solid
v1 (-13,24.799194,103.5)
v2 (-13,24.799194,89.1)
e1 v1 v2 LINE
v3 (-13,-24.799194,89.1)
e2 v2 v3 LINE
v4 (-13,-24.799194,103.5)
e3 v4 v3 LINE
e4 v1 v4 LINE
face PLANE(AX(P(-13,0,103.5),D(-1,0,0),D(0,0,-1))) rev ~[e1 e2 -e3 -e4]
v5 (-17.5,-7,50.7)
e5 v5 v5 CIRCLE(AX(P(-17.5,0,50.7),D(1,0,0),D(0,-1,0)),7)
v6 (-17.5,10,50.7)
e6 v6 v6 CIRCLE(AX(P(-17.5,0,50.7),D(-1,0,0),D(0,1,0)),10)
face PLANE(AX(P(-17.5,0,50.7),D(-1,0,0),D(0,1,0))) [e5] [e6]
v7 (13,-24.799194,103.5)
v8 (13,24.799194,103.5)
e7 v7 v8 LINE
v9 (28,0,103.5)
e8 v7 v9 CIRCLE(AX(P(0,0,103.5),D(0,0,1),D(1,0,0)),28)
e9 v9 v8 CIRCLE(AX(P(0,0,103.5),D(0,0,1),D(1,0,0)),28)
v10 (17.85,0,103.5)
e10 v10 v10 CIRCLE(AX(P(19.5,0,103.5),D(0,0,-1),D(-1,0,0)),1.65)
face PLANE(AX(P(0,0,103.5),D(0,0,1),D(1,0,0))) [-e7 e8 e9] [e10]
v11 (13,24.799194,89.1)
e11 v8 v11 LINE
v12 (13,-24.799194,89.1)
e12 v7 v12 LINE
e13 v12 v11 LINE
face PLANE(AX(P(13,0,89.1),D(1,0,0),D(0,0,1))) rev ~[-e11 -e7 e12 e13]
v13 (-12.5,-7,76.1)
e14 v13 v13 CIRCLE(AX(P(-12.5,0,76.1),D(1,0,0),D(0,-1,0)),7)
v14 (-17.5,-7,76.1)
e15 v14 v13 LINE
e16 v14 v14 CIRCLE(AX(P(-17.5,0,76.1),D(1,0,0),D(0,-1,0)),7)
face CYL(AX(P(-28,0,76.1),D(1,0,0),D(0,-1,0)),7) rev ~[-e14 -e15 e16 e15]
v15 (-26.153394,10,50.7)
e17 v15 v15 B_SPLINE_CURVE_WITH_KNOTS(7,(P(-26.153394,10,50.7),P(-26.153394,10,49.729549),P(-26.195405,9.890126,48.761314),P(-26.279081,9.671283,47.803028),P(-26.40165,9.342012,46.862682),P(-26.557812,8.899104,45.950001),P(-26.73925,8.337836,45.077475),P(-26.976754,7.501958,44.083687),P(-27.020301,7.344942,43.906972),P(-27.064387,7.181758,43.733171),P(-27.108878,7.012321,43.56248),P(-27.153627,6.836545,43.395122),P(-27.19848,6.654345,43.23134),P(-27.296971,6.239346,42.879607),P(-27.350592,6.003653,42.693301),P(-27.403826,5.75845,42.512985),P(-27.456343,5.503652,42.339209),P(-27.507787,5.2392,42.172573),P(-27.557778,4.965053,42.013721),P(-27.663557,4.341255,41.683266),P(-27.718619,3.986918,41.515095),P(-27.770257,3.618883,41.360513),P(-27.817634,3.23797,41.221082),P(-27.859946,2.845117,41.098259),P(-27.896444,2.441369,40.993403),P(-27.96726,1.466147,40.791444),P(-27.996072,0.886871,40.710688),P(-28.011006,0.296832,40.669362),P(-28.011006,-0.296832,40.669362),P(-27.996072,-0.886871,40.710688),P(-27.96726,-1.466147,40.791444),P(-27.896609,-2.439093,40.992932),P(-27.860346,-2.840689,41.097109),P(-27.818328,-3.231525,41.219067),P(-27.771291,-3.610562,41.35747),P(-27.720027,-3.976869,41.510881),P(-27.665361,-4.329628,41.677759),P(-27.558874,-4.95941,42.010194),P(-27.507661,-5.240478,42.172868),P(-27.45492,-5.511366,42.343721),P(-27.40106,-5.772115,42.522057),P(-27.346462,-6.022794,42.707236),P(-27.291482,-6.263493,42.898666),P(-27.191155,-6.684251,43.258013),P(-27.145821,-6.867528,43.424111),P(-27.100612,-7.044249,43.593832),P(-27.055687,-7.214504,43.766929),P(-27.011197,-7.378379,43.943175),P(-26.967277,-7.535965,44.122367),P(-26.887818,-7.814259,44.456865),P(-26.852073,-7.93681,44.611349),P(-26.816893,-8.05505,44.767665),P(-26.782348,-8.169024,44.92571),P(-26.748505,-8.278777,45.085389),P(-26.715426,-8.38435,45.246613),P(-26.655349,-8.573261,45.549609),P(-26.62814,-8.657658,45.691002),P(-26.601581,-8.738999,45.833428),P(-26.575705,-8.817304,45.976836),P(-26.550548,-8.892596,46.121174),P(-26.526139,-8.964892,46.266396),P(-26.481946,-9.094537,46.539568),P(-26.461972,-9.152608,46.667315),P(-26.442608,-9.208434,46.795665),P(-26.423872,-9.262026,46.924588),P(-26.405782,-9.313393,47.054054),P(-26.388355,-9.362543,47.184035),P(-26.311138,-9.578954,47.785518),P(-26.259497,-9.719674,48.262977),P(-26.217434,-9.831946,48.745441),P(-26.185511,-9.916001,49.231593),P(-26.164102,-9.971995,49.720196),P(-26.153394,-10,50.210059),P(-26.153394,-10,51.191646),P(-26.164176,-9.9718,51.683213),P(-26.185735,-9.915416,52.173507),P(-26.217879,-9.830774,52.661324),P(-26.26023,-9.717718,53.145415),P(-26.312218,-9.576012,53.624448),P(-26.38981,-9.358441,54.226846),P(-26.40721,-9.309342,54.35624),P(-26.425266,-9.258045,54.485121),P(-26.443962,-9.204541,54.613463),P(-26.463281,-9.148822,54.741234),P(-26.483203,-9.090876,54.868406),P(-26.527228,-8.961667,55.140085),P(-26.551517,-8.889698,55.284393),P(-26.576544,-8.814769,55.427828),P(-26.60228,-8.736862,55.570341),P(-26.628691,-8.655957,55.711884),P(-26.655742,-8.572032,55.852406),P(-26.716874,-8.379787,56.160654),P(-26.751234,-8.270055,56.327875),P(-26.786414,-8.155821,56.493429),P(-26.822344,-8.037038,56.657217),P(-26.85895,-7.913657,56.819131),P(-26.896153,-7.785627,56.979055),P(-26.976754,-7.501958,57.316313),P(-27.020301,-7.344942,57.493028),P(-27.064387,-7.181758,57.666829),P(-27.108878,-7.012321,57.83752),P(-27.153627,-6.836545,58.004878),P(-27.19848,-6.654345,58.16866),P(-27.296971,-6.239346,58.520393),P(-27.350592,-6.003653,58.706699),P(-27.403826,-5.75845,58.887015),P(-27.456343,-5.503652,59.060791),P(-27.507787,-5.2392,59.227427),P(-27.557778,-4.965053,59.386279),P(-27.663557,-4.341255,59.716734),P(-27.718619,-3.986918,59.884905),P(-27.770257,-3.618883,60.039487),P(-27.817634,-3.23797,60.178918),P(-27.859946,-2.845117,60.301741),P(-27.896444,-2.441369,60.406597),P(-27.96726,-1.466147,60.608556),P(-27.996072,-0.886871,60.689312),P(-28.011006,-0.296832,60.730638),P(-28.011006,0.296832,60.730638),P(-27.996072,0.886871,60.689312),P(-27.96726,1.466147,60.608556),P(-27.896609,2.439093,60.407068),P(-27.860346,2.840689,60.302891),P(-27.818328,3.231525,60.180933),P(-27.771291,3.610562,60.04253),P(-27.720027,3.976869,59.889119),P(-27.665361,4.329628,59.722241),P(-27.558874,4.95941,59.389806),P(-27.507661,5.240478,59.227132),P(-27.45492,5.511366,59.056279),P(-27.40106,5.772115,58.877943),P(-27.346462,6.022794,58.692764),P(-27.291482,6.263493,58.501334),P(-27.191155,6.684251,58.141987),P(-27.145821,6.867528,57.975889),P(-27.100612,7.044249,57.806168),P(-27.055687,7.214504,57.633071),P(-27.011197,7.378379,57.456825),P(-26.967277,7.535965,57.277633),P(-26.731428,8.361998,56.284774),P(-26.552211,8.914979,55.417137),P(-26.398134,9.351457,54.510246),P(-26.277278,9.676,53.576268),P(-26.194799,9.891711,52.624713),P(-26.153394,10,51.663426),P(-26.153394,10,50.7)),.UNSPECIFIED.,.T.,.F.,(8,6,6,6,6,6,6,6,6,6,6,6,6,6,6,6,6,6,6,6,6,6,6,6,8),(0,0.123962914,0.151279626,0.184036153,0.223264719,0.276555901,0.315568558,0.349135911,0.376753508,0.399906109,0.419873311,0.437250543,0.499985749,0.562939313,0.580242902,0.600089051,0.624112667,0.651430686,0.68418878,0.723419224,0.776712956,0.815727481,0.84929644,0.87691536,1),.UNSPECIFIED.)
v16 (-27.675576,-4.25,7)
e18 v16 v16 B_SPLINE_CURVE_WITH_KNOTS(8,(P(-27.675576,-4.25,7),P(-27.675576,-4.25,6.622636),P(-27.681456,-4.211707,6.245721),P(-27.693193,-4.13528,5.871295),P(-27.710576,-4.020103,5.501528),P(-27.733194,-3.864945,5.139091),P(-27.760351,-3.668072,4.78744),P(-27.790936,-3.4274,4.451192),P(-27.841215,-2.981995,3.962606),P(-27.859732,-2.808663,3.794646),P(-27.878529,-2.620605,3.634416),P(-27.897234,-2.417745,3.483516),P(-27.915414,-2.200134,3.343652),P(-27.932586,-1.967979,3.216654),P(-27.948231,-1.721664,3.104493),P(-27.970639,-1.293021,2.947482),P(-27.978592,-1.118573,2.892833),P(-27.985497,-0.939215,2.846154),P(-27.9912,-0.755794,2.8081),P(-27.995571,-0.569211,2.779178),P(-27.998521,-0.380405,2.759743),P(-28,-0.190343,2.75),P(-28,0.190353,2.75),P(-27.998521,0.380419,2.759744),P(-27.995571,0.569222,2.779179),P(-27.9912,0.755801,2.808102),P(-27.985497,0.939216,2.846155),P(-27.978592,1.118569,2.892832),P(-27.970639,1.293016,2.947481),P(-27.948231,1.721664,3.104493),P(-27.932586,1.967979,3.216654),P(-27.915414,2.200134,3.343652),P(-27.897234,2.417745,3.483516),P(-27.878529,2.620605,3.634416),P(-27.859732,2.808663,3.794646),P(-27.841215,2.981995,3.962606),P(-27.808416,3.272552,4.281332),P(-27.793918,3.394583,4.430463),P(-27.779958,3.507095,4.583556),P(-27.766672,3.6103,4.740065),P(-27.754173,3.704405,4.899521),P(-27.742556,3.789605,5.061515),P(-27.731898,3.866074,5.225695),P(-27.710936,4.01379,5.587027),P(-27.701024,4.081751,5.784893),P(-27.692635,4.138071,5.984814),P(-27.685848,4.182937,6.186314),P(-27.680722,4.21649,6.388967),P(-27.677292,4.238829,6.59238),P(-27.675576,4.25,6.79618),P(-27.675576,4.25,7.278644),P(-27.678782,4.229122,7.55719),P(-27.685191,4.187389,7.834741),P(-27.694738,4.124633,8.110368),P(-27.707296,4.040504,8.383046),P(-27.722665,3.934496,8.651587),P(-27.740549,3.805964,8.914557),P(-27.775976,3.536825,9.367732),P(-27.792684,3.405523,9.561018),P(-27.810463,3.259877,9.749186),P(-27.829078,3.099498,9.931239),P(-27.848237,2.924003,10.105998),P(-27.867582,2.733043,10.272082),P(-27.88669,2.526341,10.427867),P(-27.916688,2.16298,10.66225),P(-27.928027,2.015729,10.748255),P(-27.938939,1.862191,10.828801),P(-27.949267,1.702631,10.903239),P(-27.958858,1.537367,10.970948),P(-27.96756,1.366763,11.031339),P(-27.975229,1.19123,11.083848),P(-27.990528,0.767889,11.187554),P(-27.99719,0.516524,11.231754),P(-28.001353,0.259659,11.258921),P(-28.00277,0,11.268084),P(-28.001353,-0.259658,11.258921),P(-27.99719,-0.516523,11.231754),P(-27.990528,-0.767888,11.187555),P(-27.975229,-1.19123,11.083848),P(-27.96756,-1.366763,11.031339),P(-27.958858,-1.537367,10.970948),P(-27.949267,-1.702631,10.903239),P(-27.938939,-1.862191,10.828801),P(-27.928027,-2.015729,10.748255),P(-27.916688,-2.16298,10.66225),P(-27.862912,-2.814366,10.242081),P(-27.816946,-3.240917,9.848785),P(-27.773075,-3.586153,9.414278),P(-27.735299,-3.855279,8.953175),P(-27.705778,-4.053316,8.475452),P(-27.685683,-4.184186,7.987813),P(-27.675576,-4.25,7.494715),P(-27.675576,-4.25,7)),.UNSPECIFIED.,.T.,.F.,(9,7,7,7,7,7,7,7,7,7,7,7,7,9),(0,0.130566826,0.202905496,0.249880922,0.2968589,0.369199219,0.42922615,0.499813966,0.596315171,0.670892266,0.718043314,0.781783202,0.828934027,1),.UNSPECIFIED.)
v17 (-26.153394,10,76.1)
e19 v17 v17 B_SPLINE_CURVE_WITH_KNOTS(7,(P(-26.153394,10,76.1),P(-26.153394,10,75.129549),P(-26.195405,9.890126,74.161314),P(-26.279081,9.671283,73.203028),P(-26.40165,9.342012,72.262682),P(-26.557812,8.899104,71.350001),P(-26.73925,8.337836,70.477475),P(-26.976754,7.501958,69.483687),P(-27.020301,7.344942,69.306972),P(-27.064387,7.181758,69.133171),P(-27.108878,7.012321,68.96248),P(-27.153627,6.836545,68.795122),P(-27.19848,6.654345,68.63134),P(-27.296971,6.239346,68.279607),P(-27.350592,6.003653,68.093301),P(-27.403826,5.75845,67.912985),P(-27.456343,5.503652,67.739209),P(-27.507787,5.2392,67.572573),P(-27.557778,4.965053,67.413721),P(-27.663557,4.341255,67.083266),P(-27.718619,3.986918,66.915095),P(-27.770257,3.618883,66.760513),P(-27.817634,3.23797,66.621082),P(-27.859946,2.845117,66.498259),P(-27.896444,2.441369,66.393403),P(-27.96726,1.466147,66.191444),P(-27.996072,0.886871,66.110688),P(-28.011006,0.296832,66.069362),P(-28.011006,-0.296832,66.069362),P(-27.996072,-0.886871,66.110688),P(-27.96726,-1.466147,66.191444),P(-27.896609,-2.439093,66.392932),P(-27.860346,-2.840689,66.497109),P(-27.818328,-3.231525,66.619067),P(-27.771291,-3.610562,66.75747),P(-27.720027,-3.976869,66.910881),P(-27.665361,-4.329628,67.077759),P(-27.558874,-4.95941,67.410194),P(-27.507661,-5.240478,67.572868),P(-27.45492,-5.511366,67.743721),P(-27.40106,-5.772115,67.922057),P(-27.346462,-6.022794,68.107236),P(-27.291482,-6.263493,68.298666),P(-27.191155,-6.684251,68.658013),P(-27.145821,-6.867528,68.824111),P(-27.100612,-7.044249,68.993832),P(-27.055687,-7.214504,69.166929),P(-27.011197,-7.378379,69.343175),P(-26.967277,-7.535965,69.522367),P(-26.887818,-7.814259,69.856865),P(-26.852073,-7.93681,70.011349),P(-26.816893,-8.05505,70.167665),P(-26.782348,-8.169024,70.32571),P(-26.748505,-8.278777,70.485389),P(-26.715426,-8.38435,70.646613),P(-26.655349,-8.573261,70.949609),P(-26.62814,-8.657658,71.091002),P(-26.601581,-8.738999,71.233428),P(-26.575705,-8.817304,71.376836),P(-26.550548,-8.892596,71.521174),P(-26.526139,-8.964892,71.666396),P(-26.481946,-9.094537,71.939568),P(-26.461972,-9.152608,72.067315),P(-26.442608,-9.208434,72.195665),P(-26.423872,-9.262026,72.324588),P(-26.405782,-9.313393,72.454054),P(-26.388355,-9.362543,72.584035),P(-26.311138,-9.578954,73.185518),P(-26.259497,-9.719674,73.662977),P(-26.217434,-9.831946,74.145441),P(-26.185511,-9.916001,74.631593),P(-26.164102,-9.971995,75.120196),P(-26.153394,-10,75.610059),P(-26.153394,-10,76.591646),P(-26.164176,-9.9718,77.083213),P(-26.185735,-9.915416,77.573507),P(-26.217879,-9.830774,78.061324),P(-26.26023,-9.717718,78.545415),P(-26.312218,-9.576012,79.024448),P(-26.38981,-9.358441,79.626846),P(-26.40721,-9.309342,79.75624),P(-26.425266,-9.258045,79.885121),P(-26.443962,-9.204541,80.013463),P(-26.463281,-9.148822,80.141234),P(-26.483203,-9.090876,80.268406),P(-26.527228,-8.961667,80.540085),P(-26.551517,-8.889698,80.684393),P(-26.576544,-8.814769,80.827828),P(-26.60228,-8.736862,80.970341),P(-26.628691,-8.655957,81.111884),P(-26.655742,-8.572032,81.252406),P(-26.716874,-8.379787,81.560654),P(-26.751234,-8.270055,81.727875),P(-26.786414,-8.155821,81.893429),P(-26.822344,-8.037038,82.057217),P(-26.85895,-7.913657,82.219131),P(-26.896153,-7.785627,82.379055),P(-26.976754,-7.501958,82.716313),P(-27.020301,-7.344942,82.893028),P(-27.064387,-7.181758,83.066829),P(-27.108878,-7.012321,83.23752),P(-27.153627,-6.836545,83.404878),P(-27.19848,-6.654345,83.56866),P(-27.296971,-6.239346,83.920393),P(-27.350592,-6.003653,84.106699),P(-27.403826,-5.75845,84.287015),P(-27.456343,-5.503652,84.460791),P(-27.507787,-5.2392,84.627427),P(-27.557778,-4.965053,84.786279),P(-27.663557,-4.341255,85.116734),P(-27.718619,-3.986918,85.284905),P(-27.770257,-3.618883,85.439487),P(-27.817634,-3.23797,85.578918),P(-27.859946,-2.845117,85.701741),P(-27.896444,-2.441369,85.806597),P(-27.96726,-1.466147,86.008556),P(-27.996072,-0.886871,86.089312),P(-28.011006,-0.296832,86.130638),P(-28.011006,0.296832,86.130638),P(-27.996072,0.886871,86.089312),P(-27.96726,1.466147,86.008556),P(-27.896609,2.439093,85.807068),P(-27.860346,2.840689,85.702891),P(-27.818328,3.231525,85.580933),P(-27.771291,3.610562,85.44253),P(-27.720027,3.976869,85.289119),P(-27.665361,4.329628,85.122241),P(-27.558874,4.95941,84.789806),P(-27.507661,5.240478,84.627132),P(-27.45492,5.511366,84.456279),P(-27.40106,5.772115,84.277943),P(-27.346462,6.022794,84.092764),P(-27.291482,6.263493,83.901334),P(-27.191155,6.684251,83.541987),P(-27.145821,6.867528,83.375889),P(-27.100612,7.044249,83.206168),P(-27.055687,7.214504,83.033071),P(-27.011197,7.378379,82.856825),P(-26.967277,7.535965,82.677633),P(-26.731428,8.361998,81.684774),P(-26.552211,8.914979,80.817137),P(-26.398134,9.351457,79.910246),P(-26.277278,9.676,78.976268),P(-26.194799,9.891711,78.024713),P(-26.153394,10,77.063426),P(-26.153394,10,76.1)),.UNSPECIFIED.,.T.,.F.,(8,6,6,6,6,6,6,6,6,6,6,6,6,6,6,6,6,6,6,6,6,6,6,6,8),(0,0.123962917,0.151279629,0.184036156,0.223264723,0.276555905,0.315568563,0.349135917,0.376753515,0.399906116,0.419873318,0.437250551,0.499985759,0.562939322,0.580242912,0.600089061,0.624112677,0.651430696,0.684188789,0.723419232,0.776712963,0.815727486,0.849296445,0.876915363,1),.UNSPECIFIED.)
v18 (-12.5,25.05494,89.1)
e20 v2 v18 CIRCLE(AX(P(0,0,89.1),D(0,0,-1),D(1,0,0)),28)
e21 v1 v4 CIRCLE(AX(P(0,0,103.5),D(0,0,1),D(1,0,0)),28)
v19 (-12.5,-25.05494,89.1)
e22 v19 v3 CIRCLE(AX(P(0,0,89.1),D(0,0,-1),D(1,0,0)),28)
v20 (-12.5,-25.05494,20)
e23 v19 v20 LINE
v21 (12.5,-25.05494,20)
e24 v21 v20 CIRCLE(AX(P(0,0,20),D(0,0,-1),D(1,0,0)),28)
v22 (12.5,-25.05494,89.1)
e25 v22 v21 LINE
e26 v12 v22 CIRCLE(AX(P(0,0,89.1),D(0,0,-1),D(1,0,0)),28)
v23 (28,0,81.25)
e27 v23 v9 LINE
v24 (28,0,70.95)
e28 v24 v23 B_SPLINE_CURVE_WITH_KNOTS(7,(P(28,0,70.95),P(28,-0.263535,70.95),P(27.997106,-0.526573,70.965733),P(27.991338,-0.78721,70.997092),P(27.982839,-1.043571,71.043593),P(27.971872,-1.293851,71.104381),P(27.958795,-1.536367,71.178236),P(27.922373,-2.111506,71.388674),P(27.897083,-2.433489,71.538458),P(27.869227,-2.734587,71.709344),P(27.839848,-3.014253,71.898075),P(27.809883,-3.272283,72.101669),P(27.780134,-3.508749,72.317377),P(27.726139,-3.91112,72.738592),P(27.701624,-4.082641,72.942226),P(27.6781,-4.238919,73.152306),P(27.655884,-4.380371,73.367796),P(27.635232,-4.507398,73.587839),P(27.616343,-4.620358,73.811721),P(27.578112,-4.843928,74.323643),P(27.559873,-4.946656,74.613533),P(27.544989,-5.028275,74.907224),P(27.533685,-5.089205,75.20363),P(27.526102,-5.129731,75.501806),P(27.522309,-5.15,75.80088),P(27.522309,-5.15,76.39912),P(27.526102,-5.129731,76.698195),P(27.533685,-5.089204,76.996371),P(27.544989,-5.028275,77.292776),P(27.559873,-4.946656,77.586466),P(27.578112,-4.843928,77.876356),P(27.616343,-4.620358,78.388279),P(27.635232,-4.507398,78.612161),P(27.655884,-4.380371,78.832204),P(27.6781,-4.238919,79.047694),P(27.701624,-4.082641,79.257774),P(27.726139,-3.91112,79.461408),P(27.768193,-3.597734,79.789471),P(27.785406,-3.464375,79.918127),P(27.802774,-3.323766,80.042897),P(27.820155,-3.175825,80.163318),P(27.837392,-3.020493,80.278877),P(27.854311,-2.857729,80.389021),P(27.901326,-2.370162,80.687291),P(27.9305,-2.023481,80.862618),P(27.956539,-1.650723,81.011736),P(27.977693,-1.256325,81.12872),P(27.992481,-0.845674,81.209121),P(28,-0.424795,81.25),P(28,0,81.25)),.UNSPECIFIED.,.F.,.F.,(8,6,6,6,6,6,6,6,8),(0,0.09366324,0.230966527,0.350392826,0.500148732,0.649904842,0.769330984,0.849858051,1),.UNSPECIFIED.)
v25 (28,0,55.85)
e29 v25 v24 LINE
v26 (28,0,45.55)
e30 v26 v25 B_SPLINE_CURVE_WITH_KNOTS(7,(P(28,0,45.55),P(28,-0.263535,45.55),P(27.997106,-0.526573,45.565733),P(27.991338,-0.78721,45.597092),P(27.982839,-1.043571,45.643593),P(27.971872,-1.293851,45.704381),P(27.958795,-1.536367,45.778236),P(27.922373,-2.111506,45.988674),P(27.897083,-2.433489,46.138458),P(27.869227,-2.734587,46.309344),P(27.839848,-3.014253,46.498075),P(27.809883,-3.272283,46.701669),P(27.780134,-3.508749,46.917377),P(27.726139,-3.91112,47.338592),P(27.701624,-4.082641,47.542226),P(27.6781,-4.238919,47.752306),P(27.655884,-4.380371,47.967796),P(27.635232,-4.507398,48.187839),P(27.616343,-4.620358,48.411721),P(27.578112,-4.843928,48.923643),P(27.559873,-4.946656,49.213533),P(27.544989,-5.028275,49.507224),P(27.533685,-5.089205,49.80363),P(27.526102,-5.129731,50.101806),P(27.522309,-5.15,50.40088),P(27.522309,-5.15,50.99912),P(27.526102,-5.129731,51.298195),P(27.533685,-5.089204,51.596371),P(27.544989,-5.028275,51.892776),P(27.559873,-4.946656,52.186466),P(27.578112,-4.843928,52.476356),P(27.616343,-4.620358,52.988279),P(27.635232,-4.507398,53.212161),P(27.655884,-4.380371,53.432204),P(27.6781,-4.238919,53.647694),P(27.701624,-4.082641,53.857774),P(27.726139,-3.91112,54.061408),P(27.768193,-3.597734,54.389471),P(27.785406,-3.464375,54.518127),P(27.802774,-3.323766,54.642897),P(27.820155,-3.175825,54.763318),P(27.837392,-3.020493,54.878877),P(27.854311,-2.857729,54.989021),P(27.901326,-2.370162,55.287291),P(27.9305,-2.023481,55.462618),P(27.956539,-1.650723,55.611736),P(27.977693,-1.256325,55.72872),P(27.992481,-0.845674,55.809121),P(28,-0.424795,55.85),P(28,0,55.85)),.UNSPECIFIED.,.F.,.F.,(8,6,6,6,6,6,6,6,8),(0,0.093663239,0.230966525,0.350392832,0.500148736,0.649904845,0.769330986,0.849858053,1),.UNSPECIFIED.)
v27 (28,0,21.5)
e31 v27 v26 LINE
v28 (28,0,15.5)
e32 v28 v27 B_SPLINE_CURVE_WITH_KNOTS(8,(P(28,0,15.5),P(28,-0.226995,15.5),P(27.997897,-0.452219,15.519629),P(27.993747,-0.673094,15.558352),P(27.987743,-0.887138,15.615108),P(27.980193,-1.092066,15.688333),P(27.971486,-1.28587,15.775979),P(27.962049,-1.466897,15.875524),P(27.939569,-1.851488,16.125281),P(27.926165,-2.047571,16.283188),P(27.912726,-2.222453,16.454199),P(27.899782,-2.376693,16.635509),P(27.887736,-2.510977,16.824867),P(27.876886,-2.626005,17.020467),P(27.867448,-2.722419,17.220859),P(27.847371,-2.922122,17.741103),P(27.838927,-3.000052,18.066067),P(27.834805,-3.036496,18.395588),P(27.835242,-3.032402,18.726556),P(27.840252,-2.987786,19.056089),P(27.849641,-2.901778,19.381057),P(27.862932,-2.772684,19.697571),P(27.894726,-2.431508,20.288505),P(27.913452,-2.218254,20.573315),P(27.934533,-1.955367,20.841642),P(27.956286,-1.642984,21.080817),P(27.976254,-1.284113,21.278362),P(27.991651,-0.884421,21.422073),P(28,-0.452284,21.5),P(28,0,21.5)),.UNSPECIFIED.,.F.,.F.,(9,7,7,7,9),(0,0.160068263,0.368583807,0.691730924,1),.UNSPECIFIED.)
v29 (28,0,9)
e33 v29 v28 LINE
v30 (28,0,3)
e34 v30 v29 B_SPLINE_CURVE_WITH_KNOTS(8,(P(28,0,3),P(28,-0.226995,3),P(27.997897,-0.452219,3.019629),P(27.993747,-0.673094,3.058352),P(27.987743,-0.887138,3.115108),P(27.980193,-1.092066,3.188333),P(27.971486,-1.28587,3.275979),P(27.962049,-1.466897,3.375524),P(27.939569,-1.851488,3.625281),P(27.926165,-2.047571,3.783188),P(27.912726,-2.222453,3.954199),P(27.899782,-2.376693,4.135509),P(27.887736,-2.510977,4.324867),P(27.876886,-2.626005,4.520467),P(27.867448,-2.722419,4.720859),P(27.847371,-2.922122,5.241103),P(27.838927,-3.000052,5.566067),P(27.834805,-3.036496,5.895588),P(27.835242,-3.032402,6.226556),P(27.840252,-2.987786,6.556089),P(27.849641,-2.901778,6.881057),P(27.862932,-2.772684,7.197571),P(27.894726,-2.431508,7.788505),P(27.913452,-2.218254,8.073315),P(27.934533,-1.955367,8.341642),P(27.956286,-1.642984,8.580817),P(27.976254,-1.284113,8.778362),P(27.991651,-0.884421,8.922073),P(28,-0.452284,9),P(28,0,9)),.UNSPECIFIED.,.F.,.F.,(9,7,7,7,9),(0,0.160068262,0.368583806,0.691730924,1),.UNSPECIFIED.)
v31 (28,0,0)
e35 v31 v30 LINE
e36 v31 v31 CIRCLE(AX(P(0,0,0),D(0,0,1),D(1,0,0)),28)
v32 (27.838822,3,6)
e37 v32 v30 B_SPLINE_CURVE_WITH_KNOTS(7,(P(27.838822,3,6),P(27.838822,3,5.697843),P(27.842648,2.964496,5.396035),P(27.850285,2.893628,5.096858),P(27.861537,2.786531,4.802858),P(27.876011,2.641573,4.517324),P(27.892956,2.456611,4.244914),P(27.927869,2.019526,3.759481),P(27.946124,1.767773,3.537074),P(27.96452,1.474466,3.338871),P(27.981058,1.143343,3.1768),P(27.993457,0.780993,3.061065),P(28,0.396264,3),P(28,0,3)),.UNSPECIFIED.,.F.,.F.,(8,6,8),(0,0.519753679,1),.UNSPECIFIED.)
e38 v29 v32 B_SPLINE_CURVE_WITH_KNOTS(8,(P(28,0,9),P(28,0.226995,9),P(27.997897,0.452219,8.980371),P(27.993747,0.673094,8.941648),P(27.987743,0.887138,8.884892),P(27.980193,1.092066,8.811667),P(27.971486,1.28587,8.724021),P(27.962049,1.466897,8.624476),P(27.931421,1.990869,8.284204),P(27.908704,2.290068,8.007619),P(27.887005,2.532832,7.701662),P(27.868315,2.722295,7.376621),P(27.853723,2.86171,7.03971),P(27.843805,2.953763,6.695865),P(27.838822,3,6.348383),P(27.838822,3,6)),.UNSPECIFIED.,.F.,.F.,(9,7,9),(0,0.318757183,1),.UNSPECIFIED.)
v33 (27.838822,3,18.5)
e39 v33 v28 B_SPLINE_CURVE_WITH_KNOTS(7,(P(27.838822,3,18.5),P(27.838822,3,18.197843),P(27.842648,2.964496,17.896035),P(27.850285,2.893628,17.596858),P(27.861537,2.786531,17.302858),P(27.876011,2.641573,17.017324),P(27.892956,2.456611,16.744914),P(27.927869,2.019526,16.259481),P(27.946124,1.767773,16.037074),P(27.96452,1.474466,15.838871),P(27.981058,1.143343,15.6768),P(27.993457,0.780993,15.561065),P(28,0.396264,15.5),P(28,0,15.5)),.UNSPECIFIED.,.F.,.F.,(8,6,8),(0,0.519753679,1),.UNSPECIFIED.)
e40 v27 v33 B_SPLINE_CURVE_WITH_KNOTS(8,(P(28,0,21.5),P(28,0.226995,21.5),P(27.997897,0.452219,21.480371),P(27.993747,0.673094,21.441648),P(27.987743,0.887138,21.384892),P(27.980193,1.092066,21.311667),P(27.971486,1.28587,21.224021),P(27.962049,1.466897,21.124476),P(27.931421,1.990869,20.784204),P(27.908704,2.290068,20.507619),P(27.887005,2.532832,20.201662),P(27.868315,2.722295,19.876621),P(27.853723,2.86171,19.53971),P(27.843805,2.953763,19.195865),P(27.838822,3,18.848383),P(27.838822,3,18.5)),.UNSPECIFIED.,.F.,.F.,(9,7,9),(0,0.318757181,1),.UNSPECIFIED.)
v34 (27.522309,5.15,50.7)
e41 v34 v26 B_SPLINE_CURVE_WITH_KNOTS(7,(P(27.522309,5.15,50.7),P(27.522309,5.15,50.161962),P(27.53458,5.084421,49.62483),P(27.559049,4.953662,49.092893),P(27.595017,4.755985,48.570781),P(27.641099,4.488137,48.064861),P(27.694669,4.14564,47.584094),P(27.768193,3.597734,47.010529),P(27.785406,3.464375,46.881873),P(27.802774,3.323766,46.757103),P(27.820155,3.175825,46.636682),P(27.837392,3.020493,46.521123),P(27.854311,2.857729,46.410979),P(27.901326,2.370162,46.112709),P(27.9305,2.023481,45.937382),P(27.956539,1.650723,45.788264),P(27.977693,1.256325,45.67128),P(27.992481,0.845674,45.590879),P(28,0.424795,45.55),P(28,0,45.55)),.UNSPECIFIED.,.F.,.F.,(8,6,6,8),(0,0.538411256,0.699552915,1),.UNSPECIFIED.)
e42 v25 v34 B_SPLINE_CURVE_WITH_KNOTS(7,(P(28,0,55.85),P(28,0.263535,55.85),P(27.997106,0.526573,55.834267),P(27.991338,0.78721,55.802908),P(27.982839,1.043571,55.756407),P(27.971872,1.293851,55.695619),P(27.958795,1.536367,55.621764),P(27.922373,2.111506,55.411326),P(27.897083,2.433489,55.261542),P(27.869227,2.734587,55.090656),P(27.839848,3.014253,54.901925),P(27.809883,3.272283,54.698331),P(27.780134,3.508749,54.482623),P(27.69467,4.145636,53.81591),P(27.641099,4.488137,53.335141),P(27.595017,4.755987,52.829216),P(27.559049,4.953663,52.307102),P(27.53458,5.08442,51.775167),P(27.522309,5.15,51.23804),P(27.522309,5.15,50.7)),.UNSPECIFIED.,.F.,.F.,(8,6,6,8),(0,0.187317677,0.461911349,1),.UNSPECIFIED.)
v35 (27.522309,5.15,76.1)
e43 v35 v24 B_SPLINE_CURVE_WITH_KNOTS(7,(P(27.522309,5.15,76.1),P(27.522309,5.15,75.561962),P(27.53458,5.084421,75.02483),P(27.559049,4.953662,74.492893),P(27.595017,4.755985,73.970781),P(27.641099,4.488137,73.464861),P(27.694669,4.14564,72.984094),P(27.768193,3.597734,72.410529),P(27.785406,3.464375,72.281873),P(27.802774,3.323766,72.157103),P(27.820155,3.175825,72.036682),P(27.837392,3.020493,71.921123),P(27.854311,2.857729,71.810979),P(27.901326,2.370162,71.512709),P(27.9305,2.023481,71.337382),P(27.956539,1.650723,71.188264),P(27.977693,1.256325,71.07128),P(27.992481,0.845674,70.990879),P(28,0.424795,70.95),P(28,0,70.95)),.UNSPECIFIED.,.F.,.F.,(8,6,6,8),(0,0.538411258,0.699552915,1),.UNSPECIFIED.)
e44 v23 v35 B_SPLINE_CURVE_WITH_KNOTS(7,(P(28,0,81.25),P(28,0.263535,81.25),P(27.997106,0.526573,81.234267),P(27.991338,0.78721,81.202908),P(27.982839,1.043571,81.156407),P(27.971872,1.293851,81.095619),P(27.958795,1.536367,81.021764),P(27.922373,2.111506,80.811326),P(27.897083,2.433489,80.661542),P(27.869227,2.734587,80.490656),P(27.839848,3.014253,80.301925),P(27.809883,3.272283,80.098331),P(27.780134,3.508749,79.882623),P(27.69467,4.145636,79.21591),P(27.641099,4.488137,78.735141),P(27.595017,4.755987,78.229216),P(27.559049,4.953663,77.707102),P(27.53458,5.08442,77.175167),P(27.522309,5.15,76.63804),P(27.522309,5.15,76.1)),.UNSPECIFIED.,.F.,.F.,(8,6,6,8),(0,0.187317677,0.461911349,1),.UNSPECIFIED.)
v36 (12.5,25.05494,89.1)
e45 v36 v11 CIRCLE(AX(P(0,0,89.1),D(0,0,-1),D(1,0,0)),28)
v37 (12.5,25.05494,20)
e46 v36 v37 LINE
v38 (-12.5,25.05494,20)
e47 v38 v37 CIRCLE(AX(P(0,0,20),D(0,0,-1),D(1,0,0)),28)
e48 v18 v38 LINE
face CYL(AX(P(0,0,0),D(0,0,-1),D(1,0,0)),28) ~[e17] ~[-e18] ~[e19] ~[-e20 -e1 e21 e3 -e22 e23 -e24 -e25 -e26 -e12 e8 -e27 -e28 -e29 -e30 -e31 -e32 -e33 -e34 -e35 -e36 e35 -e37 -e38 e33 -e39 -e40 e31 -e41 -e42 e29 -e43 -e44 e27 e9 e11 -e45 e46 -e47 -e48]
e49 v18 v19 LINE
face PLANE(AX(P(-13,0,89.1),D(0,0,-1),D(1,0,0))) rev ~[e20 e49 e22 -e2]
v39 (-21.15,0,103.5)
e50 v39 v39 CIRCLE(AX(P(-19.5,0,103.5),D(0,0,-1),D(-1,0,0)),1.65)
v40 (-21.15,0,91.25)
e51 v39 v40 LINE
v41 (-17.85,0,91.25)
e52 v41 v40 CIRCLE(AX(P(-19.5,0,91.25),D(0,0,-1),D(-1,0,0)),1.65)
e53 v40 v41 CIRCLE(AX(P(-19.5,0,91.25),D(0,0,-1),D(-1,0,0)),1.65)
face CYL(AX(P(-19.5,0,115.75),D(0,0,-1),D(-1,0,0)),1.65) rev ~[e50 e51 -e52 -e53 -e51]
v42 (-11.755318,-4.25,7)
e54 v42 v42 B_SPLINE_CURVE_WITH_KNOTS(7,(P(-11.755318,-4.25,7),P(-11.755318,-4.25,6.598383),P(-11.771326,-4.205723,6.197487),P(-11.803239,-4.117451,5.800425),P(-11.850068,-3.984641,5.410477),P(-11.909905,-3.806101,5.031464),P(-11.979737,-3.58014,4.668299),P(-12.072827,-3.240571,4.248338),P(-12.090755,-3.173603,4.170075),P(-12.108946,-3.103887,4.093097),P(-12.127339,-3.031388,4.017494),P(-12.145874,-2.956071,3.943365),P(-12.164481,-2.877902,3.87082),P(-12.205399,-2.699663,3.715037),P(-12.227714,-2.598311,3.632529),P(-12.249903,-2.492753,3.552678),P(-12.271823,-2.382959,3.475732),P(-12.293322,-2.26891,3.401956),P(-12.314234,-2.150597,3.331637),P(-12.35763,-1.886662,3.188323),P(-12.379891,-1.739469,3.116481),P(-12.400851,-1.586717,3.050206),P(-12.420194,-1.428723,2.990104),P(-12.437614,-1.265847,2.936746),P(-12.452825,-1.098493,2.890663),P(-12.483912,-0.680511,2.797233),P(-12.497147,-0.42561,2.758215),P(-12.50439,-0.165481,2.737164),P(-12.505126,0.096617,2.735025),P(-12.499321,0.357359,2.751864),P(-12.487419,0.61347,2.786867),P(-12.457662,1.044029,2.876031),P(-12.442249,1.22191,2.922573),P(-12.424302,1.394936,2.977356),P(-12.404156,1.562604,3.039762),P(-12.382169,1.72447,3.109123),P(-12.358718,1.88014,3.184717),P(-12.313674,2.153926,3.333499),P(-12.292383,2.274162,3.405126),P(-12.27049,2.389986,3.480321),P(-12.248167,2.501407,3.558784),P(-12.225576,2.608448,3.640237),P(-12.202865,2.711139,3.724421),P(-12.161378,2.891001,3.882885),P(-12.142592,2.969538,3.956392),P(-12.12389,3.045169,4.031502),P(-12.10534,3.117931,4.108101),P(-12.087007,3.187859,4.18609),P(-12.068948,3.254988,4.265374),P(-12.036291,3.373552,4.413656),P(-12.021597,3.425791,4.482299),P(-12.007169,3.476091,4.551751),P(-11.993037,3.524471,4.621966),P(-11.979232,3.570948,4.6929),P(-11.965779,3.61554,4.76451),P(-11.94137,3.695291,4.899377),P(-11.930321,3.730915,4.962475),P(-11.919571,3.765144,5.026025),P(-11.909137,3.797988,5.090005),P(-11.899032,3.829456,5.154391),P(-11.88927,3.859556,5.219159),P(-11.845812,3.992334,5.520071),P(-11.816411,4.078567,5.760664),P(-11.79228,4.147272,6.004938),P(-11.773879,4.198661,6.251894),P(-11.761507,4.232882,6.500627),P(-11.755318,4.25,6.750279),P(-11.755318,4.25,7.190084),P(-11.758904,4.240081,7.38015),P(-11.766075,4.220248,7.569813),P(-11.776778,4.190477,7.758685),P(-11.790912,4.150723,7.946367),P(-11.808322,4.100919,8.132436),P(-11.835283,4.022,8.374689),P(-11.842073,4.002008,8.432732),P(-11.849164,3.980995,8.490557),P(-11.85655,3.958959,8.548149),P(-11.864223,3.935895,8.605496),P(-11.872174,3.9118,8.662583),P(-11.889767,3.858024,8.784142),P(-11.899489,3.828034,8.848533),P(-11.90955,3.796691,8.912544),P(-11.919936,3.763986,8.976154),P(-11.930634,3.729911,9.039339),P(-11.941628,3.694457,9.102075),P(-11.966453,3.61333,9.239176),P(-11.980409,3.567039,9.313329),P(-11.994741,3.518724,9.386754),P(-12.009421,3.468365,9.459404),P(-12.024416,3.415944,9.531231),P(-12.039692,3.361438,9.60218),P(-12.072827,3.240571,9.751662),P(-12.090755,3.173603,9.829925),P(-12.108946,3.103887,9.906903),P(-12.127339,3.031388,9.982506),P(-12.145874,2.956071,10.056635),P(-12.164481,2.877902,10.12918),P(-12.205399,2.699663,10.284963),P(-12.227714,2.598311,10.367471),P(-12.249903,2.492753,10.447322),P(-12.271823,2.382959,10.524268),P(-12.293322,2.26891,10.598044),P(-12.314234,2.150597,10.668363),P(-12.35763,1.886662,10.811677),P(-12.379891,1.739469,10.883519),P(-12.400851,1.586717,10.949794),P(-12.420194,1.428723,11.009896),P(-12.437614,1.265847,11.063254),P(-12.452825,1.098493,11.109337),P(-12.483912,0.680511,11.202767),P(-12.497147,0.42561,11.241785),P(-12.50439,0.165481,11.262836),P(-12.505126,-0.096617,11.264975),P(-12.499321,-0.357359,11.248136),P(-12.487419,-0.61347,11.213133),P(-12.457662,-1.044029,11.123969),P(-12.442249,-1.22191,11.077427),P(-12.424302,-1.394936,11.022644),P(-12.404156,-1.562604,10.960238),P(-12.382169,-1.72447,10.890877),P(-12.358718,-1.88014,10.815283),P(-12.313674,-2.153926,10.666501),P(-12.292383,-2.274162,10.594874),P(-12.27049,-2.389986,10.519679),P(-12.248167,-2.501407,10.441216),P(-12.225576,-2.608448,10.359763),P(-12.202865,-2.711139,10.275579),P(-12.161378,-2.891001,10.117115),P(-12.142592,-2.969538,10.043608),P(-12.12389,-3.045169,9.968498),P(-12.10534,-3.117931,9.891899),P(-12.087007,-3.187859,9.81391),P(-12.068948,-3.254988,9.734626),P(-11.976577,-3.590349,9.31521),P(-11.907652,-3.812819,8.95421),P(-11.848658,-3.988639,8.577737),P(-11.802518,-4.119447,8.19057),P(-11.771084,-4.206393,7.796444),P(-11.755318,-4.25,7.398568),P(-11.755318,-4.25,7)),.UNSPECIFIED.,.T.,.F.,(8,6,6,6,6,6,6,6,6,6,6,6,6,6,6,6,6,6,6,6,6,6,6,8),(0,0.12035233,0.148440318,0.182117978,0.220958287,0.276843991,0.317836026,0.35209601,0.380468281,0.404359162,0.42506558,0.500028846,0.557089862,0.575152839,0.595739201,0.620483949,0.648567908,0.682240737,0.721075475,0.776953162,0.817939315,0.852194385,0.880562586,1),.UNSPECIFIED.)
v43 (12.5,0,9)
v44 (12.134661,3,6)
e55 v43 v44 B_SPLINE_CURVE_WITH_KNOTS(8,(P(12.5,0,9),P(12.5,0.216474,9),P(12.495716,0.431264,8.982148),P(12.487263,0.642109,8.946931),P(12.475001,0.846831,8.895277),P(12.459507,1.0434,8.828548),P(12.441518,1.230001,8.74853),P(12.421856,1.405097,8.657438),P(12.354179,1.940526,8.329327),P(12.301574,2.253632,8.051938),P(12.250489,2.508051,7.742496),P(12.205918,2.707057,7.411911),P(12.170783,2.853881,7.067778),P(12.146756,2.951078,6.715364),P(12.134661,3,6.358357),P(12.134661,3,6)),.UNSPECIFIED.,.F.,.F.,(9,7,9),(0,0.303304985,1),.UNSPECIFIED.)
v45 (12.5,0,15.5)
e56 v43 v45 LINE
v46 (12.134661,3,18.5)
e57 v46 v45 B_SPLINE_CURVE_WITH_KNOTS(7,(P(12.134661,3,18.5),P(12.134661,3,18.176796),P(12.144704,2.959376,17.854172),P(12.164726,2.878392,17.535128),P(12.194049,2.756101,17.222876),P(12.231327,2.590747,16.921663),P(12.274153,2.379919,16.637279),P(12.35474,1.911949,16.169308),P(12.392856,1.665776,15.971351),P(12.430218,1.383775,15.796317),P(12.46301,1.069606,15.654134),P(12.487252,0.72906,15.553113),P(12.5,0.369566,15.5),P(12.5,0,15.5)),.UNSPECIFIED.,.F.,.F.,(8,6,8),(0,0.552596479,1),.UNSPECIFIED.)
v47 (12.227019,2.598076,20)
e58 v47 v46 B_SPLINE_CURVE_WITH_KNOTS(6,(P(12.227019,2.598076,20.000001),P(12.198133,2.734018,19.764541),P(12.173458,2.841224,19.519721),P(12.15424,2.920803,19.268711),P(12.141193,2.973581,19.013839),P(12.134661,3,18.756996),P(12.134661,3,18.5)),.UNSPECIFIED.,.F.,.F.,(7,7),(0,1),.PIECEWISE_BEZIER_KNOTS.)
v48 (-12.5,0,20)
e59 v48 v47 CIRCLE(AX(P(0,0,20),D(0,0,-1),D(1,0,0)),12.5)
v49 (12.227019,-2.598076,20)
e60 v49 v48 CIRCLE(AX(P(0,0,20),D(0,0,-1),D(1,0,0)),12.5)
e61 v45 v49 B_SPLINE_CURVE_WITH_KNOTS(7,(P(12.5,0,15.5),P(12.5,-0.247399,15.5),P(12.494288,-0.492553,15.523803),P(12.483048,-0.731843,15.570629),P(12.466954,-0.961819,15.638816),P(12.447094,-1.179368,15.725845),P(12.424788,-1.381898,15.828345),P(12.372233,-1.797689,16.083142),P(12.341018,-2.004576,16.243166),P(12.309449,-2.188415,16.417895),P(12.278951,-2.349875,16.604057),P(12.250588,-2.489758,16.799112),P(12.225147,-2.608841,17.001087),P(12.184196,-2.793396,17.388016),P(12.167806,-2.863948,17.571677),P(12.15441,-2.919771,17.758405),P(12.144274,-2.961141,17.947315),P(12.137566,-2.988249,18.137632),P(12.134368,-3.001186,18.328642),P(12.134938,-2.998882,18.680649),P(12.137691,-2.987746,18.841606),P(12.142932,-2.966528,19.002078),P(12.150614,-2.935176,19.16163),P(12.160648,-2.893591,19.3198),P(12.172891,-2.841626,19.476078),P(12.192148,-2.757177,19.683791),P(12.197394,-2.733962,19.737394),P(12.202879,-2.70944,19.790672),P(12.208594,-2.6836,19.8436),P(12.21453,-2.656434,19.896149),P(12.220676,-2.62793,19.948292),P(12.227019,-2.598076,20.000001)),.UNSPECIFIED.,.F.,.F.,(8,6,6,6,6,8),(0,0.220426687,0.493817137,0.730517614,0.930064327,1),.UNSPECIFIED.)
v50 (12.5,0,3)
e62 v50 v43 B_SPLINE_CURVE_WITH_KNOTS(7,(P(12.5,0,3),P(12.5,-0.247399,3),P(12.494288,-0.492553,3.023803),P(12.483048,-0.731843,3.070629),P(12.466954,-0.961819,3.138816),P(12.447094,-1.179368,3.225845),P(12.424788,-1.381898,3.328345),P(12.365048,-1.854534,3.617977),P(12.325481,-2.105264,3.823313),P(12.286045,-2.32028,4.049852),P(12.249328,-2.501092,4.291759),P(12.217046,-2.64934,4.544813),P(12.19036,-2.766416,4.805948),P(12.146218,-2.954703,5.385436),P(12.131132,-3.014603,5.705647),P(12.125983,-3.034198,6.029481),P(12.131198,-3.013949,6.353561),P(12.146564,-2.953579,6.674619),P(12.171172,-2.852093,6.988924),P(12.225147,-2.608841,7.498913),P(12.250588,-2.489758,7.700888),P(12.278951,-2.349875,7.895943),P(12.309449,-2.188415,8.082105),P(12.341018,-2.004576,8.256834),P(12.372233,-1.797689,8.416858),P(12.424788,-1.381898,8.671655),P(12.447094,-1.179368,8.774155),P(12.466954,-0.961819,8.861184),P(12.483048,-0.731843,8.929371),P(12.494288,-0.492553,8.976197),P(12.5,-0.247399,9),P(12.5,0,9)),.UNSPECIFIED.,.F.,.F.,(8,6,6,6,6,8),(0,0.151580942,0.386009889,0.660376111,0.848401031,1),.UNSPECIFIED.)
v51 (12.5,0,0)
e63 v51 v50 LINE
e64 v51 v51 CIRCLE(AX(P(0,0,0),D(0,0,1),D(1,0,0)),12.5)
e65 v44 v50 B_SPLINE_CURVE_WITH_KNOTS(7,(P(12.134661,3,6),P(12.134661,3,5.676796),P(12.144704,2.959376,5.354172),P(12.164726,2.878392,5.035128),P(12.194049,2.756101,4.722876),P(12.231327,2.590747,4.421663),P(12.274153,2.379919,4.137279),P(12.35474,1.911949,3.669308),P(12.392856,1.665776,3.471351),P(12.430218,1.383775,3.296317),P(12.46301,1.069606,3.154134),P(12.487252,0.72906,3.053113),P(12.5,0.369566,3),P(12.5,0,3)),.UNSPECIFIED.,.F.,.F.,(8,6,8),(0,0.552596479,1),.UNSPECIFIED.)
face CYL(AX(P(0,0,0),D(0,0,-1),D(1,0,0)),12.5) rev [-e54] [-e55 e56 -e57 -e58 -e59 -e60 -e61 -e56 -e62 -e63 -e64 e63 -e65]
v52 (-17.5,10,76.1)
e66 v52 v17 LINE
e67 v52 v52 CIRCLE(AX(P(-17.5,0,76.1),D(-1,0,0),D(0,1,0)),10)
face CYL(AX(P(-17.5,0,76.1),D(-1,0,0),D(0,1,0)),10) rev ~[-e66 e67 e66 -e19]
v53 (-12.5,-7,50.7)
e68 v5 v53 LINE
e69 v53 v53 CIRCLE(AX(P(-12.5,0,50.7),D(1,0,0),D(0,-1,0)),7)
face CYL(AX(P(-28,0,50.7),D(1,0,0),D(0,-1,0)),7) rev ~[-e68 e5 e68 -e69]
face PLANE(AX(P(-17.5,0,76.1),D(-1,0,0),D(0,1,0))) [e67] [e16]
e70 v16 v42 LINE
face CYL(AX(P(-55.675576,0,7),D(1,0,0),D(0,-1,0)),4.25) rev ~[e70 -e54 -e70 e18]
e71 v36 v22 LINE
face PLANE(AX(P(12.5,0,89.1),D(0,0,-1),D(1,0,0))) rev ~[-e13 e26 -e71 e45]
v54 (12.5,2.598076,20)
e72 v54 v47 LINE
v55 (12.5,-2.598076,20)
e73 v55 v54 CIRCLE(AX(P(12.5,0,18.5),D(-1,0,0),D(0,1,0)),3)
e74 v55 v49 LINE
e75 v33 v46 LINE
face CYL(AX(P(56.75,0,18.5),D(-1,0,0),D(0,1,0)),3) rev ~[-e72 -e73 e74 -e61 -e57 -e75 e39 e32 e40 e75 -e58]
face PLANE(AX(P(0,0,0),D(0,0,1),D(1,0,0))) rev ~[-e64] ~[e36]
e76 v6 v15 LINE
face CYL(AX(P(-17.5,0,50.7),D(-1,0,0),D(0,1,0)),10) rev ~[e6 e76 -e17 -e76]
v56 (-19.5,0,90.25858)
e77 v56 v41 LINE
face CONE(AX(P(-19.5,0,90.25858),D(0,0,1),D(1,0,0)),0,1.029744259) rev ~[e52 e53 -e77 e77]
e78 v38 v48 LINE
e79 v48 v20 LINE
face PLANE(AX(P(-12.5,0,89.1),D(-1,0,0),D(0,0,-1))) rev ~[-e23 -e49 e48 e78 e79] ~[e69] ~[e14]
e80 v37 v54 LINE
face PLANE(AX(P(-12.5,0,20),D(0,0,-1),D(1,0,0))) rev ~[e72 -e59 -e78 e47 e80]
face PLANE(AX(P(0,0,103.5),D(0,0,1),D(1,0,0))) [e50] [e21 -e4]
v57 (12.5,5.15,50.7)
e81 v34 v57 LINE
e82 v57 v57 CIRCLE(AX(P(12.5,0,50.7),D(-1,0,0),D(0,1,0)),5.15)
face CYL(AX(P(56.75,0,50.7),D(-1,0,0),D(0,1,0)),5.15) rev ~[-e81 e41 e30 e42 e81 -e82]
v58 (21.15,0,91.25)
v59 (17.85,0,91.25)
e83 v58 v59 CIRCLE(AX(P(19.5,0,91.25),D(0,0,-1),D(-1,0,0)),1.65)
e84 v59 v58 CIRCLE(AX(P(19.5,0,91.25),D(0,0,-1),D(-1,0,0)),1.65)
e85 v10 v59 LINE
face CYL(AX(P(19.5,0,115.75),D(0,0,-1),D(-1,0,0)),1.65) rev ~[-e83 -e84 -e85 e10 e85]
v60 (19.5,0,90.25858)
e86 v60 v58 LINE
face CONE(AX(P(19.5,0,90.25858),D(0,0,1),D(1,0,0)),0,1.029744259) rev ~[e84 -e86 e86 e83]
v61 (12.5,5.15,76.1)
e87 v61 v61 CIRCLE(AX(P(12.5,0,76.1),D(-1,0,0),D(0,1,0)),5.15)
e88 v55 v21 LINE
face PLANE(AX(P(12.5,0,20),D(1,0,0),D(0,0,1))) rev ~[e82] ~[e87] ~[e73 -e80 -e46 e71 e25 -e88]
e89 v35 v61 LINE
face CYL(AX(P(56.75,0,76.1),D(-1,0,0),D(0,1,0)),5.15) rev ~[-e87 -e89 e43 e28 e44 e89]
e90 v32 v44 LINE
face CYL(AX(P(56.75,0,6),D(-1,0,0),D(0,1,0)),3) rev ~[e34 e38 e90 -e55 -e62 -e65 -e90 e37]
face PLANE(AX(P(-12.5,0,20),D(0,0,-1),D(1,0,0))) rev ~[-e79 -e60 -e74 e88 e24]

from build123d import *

# Parameters (mm, degrees)
F0_R            = 28
F0_R_2          = 12.5
F1_DEPTH        = 103.5
F3_DEPTH        = 28.5
F5_D            = 3.3
F5_DEPTH        = 12.25
F5_TIP          = 0.9914200214
F10_D           = 8.5
F10_DEPTH       = 28
F10_START       = 0.3244242
F10_TIP         = 2.5536576309
F11_D           = 10.3
F11_DEPTH       = 28.75
F11_TIP         = 3.094432188
F13_D           = 14
F13_DEPTH       = 28.75
F13_CBORE_D     = 20
F13_CBORE_DEPTH = 10.5
F13_TIP         = 4.2060243332
F15_D           = 6
F15_DEPTH       = 28.75
F15_TIP         = 1.8025818571


with BuildPart() as f1:
    # F0 (on Top) → F1 (new body)
    with BuildSketch(Plane.XY):
        Circle(F0_R)
        Circle(F0_R_2, mode=Mode.SUBTRACT)
    extrude(amount=F1_DEPTH)

    # F2 (on Front) → F3 (cut, symmetric)
    with BuildSketch(Plane.XZ):
        Polygon((13, 103.5), (0, 103.5), (-13, 103.5), (-13, 89.1), (-12.5, 89.1), (-12.5, 20), (0, 20), (12.5, 20), (12.5, 89.1), (13, 89.1), align=None)
    extrude(amount=F3_DEPTH, both=True, mode=Mode.SUBTRACT)

    # F5
    with Locations(Plane.XY.offset(103.5)):
        with Locations((-19.5, 0), (19.5, 0)):
            Hole(F5_D / 2, depth=F5_DEPTH)
            with Locations((0, 0, -(F5_DEPTH + F5_TIP / 2))):  # 118° drill point
                Cone(0, F5_D / 2, F5_TIP, mode=Mode.SUBTRACT)

    # F10
    # its depths count from where the whole tool has entered the part; down to there all is cleared
    with Locations(Plane(origin=(-28, 0, 0), x_dir=(0, 1, 0), z_dir=(-1, 0, 0)).offset(-F10_START)):
        with Locations((0, -7)):
            Hole(F10_D / 2, depth=F10_DEPTH)
            with Locations((0, 0, -(F10_DEPTH + F10_TIP / 2))):  # 118° drill point
                Cone(0, F10_D / 2, F10_TIP, mode=Mode.SUBTRACT)

    # F11
    with Locations(Plane(origin=(28, 0, 0), x_dir=(0, -1, 0), z_dir=(1, 0, 0))):
        with Locations((0, -50.7), (0, -76.1)):
            Hole(F11_D / 2, depth=F11_DEPTH)
            with Locations((0, 0, -(F11_DEPTH + F11_TIP / 2))):  # 118° drill point
                Cone(0, F11_D / 2, F11_TIP, mode=Mode.SUBTRACT)

    # F13
    with Locations(Plane(origin=(-28, 0, 0), x_dir=(0, 1, 0), z_dir=(-1, 0, 0))):
        with Locations((0, -76.1), (0, -50.7)):
            CounterBoreHole(F13_D / 2, F13_CBORE_D / 2, F13_CBORE_DEPTH, depth=F13_DEPTH)
            with Locations((0, 0, -(F13_DEPTH + F13_TIP / 2))):  # 118° drill point
                Cone(0, F13_D / 2, F13_TIP, mode=Mode.SUBTRACT)

    # F15
    with Locations(Plane(origin=(28, 0, 0), x_dir=(0, -1, 0), z_dir=(1, 0, 0))):
        with Locations((0, -18.5), (0, -6)):
            Hole(F15_D / 2, depth=F15_DEPTH)
            with Locations((0, 0, -(F15_DEPTH + F15_TIP / 2))):  # 118° drill point
                Cone(0, F15_D / 2, F15_TIP, mode=Mode.SUBTRACT)


solid = f1.part
